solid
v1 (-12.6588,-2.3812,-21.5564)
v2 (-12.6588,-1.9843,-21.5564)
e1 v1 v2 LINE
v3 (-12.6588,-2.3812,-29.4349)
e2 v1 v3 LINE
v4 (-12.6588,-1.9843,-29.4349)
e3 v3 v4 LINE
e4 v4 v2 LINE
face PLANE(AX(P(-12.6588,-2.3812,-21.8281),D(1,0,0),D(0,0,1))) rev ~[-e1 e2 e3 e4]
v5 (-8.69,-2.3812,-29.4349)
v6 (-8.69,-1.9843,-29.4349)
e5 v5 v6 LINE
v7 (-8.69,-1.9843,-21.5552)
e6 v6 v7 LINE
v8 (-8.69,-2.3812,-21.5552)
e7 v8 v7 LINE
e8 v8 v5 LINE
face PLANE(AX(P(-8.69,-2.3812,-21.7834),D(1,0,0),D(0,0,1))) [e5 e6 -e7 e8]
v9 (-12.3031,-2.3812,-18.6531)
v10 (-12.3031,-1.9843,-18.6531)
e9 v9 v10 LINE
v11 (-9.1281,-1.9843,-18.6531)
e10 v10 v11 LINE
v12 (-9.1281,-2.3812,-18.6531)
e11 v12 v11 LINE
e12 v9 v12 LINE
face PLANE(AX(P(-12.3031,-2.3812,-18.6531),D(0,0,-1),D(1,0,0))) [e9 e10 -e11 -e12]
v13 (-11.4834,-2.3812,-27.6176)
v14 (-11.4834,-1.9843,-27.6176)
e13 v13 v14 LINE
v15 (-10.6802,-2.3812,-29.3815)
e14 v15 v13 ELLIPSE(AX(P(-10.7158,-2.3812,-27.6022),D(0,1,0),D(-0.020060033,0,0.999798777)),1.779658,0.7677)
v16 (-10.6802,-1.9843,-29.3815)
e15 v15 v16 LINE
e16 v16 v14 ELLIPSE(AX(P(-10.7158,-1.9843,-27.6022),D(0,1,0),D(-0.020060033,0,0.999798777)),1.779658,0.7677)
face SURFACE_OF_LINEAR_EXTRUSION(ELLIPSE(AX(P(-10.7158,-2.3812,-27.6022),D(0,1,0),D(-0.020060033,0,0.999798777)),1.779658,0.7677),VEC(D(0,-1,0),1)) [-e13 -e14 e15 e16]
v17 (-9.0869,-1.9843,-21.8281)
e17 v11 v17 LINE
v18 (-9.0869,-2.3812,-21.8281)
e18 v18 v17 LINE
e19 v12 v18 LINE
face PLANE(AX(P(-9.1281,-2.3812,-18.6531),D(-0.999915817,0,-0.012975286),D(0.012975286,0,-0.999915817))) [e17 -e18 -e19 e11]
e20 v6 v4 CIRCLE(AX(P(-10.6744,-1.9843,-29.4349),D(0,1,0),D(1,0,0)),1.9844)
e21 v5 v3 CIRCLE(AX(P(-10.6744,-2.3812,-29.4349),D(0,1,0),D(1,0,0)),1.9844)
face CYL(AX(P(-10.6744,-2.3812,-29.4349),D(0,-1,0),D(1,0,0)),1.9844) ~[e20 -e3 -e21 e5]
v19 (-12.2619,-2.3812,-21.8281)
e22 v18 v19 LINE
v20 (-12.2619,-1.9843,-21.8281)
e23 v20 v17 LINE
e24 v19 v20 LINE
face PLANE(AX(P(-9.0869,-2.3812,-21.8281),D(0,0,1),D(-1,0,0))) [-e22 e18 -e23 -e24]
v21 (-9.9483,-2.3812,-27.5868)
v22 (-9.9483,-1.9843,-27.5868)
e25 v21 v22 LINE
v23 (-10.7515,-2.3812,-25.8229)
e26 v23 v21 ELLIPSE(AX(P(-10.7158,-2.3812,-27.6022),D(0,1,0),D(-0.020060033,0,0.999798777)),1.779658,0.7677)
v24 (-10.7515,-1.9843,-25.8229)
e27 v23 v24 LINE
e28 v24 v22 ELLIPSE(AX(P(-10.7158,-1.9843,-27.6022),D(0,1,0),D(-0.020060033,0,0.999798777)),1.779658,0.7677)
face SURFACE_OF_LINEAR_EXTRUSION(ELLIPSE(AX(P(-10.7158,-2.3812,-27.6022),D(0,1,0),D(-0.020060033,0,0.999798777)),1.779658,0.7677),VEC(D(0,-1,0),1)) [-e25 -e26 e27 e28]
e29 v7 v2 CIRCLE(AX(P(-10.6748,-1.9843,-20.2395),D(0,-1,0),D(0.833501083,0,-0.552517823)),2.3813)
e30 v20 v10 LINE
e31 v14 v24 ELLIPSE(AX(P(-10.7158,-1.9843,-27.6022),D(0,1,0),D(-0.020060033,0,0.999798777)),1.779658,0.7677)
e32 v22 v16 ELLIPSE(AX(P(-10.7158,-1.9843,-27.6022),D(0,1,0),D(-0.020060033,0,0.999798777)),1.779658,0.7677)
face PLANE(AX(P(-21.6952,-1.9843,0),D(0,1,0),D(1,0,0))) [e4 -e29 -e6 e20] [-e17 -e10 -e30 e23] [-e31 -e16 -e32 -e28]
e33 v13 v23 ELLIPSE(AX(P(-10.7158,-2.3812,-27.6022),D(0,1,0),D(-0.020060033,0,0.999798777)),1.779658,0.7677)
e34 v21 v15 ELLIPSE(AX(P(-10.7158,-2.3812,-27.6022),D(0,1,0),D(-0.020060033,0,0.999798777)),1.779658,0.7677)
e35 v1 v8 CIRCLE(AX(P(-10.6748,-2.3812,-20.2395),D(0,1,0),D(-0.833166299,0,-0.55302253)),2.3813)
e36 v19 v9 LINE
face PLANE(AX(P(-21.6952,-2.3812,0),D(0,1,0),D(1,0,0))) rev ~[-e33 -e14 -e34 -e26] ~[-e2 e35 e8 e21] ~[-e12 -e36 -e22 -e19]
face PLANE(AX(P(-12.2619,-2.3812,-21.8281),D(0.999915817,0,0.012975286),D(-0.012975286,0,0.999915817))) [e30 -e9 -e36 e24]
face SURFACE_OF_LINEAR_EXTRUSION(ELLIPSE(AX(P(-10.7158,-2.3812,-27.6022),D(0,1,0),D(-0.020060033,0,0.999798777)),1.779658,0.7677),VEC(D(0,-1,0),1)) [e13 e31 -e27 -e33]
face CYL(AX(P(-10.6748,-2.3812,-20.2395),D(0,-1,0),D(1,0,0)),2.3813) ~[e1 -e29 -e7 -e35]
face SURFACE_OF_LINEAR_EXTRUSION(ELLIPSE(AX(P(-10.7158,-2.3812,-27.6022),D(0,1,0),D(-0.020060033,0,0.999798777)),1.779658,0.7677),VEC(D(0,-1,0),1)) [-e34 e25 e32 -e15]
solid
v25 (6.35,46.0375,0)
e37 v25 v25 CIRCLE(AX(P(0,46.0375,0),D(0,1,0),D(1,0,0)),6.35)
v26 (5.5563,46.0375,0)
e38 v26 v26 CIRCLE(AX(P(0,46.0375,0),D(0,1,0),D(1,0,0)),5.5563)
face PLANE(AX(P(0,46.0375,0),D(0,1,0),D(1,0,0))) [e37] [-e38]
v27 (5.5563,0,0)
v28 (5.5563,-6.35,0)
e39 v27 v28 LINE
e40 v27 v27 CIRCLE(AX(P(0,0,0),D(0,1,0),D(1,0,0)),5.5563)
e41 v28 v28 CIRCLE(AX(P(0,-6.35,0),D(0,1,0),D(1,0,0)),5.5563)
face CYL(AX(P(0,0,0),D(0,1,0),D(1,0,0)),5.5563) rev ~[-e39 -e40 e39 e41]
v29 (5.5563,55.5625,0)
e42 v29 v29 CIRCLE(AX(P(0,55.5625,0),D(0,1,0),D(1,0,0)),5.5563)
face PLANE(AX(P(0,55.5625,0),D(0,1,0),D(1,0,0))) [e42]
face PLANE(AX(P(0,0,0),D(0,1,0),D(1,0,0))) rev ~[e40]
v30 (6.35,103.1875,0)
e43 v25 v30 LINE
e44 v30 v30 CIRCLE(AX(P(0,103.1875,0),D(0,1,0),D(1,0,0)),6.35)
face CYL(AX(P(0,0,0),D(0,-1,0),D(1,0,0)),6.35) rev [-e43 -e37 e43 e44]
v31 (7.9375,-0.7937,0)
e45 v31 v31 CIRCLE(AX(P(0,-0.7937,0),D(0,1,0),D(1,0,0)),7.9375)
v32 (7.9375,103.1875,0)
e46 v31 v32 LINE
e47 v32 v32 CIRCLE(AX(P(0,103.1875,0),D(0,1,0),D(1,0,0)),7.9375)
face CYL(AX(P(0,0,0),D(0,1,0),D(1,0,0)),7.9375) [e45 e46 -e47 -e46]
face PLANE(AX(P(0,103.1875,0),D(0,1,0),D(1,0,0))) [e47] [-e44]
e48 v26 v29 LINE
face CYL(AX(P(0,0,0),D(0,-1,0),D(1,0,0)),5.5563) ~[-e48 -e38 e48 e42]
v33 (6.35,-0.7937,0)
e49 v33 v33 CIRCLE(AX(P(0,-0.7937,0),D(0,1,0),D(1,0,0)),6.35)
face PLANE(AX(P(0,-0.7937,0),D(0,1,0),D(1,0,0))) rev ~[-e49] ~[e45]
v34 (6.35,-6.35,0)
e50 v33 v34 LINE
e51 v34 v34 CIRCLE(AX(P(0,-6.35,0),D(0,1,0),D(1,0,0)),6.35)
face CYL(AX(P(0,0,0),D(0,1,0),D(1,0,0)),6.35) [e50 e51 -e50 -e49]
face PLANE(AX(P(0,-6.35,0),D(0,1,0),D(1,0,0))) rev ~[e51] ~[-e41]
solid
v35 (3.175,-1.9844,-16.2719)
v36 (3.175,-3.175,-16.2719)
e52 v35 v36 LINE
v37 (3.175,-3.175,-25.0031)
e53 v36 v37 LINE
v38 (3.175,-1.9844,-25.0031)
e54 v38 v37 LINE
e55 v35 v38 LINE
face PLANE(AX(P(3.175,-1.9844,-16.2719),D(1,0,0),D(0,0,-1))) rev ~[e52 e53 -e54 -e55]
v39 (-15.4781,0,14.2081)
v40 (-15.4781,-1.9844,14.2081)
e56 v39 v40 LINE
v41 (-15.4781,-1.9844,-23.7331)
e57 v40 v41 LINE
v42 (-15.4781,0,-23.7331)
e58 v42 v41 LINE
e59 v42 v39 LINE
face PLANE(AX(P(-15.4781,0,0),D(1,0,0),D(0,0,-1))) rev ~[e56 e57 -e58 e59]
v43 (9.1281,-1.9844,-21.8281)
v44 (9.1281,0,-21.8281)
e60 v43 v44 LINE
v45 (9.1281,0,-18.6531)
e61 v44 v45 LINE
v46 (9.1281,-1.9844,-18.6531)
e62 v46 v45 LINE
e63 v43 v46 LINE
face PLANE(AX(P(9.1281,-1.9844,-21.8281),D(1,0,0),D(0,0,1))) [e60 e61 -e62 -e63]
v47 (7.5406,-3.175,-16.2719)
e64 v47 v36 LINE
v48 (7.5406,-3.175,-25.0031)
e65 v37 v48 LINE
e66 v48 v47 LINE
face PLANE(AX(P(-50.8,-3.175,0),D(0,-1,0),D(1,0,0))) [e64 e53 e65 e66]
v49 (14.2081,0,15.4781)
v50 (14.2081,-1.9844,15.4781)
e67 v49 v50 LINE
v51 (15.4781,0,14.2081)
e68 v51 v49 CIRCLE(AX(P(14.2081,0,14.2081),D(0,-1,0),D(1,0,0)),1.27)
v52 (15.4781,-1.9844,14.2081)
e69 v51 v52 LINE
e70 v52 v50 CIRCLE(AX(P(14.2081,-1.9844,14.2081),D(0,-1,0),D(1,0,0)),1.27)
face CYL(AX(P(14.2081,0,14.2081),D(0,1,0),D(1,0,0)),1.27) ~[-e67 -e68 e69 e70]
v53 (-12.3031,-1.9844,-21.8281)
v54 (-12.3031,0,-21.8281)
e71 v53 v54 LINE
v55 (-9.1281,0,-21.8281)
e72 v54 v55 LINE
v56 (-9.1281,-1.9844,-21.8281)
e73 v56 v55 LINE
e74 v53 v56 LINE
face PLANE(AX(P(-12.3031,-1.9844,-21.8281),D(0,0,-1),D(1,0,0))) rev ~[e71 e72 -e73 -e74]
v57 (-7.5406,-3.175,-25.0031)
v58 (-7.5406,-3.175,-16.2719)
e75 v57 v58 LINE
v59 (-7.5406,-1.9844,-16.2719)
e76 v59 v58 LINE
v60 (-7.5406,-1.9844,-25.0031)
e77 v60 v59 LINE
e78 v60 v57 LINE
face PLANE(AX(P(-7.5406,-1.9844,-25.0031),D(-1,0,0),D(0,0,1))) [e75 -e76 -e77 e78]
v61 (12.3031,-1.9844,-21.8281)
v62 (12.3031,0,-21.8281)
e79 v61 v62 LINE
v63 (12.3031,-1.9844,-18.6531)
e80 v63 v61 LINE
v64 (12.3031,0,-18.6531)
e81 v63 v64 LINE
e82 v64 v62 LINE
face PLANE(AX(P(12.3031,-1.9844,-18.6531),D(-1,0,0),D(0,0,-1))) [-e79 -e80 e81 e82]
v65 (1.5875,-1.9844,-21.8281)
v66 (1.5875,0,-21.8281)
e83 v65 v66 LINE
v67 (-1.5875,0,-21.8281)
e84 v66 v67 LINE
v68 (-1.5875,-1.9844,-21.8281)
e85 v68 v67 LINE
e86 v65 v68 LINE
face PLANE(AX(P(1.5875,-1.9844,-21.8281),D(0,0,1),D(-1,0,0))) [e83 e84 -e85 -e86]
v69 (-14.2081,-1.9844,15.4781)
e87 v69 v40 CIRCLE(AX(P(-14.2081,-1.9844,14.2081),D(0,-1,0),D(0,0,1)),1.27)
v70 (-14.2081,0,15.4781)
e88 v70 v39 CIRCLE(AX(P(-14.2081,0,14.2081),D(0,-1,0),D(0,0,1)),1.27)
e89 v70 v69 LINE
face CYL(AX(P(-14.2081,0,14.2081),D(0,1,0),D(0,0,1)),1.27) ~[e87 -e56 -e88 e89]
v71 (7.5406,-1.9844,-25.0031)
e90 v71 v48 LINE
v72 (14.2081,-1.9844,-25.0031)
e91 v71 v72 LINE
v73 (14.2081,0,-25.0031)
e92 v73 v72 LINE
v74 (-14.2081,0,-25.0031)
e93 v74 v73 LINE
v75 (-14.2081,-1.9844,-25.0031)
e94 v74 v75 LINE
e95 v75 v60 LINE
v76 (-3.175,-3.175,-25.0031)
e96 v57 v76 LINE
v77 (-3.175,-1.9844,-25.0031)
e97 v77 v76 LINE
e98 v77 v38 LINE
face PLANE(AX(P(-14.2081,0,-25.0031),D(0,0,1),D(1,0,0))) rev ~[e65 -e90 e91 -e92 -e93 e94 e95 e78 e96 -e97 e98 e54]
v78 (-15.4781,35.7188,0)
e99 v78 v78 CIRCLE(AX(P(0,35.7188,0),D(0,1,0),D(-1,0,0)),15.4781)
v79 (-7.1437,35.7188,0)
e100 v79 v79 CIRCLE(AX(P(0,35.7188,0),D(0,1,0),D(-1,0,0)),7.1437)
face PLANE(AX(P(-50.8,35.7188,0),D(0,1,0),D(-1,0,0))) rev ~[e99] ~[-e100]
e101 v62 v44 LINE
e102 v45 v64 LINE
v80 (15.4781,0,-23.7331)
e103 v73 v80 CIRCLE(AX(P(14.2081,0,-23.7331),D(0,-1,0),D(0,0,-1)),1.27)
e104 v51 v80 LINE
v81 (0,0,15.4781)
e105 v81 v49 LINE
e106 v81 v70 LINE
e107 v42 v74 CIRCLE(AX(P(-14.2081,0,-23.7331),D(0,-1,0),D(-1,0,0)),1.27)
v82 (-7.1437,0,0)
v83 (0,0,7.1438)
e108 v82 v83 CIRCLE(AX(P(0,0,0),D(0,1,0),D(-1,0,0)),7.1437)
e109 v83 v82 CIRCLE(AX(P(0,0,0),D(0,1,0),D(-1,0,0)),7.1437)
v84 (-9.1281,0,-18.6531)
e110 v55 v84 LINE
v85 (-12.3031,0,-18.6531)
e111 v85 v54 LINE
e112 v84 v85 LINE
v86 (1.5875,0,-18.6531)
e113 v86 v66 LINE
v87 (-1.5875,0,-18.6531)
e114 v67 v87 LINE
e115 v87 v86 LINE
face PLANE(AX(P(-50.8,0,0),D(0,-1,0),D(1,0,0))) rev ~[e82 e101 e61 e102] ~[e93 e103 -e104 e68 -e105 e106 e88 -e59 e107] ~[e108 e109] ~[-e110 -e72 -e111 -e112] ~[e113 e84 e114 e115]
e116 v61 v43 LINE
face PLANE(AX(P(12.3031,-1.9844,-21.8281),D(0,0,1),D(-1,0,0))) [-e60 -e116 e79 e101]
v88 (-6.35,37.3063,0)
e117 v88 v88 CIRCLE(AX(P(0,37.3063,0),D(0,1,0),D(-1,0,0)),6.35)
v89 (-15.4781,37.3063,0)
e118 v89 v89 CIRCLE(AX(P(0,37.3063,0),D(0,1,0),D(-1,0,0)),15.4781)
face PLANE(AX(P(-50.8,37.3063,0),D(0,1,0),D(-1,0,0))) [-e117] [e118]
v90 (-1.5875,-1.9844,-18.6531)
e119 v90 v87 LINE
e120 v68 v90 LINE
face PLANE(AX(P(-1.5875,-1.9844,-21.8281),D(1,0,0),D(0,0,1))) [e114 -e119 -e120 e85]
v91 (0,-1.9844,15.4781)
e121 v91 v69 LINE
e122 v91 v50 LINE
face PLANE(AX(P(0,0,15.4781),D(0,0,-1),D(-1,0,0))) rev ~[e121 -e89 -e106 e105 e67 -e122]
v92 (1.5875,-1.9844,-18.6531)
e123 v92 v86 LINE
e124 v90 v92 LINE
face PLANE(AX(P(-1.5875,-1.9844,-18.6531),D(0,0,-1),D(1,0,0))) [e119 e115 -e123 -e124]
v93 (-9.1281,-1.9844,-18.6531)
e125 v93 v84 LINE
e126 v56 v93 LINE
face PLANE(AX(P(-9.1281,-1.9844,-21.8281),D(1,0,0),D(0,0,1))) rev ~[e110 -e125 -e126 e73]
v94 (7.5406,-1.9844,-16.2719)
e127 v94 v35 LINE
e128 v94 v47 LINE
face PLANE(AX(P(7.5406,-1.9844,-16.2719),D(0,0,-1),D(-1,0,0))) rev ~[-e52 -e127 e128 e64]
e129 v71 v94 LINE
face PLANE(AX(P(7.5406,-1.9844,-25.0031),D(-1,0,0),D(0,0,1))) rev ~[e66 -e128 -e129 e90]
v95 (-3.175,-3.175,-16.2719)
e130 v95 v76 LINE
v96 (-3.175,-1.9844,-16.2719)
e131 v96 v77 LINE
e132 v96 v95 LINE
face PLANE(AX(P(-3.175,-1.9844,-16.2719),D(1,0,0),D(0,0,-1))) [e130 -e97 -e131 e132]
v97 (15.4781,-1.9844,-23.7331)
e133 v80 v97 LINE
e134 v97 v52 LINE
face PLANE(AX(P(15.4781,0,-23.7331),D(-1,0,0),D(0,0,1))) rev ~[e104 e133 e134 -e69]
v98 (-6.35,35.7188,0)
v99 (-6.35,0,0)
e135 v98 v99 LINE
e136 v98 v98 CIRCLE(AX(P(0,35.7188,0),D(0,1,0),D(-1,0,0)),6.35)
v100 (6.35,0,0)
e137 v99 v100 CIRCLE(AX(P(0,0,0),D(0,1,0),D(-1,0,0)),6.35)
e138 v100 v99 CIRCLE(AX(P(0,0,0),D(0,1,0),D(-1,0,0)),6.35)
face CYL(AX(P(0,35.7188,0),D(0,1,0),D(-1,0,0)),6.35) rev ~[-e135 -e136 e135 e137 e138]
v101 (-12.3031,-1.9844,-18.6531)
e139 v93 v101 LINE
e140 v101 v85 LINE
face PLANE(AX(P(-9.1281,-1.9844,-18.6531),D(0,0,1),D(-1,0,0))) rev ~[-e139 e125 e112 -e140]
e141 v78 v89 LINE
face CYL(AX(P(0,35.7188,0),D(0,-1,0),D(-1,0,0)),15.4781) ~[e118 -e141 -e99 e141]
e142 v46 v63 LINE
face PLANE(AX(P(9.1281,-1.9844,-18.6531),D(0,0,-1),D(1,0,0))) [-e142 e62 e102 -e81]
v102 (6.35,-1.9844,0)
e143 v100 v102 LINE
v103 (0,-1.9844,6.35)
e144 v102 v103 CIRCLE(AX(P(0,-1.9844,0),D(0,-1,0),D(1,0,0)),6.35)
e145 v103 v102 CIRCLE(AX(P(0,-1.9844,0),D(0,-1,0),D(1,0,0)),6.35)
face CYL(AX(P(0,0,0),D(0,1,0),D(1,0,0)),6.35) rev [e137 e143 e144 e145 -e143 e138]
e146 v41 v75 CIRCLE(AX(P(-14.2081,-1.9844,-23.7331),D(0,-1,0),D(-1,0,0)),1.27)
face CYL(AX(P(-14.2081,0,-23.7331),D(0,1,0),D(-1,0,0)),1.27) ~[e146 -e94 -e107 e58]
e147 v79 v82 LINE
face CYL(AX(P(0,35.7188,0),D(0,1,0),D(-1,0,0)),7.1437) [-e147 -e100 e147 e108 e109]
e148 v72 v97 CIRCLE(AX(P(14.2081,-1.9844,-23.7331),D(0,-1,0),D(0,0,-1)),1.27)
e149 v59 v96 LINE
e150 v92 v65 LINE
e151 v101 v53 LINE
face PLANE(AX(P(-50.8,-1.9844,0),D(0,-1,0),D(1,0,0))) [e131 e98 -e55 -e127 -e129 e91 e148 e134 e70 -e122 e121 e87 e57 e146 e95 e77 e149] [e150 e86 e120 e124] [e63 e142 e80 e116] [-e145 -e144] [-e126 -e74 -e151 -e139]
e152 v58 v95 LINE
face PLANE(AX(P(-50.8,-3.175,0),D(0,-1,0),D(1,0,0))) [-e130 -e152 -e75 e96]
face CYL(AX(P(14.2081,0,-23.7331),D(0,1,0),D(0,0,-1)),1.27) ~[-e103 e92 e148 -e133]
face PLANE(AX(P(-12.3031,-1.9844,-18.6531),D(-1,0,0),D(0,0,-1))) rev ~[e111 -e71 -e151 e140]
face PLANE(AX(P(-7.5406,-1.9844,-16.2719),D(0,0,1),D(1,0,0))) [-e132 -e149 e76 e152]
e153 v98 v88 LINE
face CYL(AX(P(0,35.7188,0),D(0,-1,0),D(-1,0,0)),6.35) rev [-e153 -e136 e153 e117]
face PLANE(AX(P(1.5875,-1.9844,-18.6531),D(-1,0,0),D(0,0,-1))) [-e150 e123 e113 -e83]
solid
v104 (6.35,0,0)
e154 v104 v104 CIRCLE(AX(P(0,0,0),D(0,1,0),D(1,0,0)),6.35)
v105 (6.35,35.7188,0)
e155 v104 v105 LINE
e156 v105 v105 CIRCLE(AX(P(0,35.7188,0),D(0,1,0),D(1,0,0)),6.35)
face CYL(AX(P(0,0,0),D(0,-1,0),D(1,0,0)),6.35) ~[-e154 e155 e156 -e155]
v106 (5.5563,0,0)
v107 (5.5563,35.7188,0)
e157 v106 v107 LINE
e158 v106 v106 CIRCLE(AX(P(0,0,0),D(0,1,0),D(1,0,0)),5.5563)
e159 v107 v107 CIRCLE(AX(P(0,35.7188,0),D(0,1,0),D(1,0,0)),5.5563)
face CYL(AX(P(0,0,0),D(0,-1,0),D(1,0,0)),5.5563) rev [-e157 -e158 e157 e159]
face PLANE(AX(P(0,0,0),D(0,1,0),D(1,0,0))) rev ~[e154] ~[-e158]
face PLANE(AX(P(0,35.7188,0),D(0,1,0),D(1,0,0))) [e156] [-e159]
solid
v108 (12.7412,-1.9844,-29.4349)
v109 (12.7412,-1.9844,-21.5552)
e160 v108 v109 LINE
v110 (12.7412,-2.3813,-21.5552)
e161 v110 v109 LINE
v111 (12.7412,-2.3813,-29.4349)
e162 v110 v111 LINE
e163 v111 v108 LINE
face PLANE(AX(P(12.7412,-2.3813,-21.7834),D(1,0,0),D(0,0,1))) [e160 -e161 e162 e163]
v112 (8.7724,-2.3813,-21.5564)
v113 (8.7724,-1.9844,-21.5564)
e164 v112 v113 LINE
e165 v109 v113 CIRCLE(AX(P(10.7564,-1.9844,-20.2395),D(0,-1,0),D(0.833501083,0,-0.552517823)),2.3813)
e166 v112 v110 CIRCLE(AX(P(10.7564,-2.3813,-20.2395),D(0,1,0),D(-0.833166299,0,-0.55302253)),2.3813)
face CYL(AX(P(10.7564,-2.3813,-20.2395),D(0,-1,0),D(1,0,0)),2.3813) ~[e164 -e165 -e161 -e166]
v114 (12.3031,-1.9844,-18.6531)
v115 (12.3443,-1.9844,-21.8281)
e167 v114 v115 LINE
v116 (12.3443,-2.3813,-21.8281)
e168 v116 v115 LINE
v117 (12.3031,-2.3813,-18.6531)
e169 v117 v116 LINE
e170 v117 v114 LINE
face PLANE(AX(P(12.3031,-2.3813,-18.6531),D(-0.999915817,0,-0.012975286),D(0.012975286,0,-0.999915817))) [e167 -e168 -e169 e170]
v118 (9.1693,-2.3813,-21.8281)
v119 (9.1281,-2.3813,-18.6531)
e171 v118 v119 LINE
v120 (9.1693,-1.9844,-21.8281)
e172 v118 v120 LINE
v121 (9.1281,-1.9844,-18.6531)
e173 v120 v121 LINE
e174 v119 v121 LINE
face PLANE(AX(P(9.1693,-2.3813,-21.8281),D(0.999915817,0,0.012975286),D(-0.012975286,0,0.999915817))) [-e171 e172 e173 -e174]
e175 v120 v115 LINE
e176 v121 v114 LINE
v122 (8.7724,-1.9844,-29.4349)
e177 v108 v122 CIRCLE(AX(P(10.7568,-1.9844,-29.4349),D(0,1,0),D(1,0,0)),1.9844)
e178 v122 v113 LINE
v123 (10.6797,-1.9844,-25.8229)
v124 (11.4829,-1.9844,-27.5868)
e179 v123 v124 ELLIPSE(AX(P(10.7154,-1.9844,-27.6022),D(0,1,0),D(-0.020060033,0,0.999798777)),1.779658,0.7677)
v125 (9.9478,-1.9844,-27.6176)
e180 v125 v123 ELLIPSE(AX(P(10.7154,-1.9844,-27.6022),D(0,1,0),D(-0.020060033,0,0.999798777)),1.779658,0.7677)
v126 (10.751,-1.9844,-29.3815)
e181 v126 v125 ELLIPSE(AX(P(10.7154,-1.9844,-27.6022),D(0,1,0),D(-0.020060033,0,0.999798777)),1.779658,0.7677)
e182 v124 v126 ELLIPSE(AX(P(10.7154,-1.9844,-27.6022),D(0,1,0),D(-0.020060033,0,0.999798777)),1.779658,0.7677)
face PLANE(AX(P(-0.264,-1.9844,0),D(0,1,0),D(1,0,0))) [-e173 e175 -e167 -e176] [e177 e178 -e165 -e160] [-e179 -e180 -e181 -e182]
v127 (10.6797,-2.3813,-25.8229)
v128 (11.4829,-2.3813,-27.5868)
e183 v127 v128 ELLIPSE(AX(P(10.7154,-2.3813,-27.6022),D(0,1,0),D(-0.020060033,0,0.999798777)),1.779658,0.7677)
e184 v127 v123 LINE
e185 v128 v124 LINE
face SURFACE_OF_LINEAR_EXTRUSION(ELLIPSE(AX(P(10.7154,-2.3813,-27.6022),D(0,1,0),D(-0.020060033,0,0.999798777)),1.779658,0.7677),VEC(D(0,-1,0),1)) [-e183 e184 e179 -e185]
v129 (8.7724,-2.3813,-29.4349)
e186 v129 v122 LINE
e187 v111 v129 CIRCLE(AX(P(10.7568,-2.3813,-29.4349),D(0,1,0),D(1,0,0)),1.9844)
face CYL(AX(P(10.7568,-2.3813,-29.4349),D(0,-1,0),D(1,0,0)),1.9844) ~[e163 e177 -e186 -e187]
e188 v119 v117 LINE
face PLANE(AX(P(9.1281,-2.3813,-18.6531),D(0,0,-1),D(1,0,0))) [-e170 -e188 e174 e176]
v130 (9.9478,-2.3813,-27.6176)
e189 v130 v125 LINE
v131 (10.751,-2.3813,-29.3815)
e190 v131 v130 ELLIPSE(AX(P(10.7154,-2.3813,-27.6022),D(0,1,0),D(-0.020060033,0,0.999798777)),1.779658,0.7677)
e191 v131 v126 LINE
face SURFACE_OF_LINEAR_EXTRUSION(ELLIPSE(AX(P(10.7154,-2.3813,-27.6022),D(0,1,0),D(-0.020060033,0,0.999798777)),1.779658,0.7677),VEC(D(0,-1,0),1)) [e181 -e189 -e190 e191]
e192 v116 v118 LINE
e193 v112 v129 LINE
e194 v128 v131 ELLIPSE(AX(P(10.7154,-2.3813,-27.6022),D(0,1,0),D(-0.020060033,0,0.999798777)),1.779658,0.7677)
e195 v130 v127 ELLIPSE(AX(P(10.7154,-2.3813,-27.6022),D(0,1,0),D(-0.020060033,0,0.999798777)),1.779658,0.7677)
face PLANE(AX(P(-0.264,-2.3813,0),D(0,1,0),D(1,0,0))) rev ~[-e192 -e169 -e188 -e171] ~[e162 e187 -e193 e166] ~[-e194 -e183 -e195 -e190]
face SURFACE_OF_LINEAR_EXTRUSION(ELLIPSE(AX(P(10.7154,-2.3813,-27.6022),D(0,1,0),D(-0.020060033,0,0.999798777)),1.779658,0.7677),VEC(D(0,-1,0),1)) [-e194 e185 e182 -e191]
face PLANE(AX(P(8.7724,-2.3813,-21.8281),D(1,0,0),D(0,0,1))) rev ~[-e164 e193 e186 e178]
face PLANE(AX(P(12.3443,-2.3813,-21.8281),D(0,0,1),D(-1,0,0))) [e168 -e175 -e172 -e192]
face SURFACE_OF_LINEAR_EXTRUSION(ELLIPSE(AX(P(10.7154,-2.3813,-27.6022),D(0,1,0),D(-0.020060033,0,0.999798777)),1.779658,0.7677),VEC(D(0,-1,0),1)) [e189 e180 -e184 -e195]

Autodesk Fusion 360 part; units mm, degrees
sketch "Sketch1" plane through (0, 0, 0) normal (0, 1, 0) x (1, 0, 0) in component "Winding"
  circle A0 centre (0, 0) radius 11.9062
  circle A1 centre (0, 0) radius 6.35
  circle A2 centre (0, 0) radius 7.1437
  dimension "d1" = 23.8125
  dimension "d2" = 12.7
  dimension "d3" = 0.7937
extrude "Extrude1" add sketch "Sketch1" along normal blind 35.7188 contours A0 makes body 1 in component "Winding"
sketch "Sketch1 (2)" plane through (0, 35.7188, 0) normal (0, 1, 0) x (-1, 0, 0) in component "Coil Body"
  circle A0 centre (0, 0) radius 7.1437
  circle A1 centre (0, 0) radius 11.9062
  circle A2 centre (-50.8, 0) radius 15.4781
  circle A3 centre (-50.8, 0) radius 6.35
  circle A4 centre (-50.8, 0) radius 7.1437
  point P0 (-50.8, 0)
  dimension "d6" = 30.9563
  dimension "d7" = 12.7
  dimension "d8" = 0.7937
extrude "Extrude1'" add sketch "Sketch1 (2)" against normal blind 35.7188 separate body contours A4 makes body 2 in component "Coil Body"
extrude "Extrude2" add sketch "Sketch1 (2)" along normal blind 1.5875 contours A2 | A4 bodies 2 in component "Coil Body"
sketch "Sketch2" plane through (0, 0, 0) normal (0, -1, 0) x (1, 0, 0) in component "Coil Body"
  circle A0 centre (50.8, 0) radius 6.35
  circle A1 centre (50.8, 0) radius 7.1438
  line L0 (50.8, 0) -> (50.8, 6.35)
  circle A2 centre (50.8, 0) radius 15.4781
  line L1 (50.8, 6.35) -> (50.8, 15.4781)
  line L2 (50.8, 15.4781) -> (65.0081, 15.4781)
  line L3 (50.8, 15.4781) -> (36.5919, 15.4781)
  line L4 (35.3219, 14.2081) -> (35.3219, -23.7331)
  line L5 (36.5919, -25.0031) -> (65.0081, -25.0031)
  line L6 (66.2781, -23.7331) -> (66.2781, 14.2081)
  arc A3 (35.3219, -23.7331) -> (36.5919, -25.0031) centre (36.5919, -23.7331) ccw
  arc A4 (65.0081, -25.0031) -> (66.2781, -23.7331) centre (65.0081, -23.7331) ccw
  arc A5 (66.2781, 14.2081) -> (65.0081, 15.4781) centre (65.0081, 14.2081) ccw
  arc A6 (36.5919, 15.4781) -> (35.3219, 14.2081) centre (36.5919, 14.2081) ccw
  point P0 (66.2781, 15.4781)
  point P1 (35.3219, 15.4781)
  point P2 (35.3219, -25.0031)
  point P3 (66.2781, -25.0031)
  dimension "d13" = 15.4781
  dimension "d14" = 15.4781
  dimension "d15" = 40.4812
  dimension "d16" = 30.9563
  dimension "d19" = 1.27
  dimension "d20" = 1.27
  dimension "d21" = 1.27
  dimension "d22" = 1.27
extrude "Extrude3" add sketch "Sketch2" along normal blind 1.9844 contours A1 | A2 | A2 L3 L4 A6 | A2 L2 L6 A5 | A2 L4 L5 L6 A3 A4 bodies 2 in component "Coil Body"
sketch "Sketch3" plane through (0, -1.9844, 0) normal (0, -1, 0) x (1, 0, 0) in component "Coil Body"
  circle A0 centre (50.8, 0) radius 6.35
  line L0 (65.0081, 15.4781) -> (36.5919, 15.4781)
  arc A1 (36.5919, 15.4781) -> (35.3219, 14.2081) centre (36.5919, 14.2081) ccw
  line L1 (35.3219, 14.2081) -> (35.3219, -23.7331)
  arc A2 (35.3219, -23.7331) -> (36.5919, -25.0031) centre (36.5919, -23.7331) ccw
  line L2 (36.5919, -25.0031) -> (65.0081, -25.0031)
  arc A3 (65.0081, -25.0031) -> (66.2781, -23.7331) centre (65.0081, -23.7331) ccw
  line L3 (66.2781, -23.7331) -> (66.2781, 14.2081)
  arc A4 (66.2781, 14.2081) -> (65.0081, 15.4781) centre (65.0081, 14.2081) ccw
  line L4 (35.3219, -25.0031) -> (38.4969, -25.0031)
  line L5 (38.4969, -25.0031) -> (38.4969, -21.8281)
  line L6 (38.4969, -21.8281) -> (41.6719, -21.8281)
  line L7 (41.6719, -21.8281) -> (41.6719, -18.6531)
  line L8 (41.6719, -18.6531) -> (38.4969, -18.6531)
  line L9 (38.4969, -18.6531) -> (38.4969, -21.8281)
  line L10 (66.2781, -25.0031) -> (63.1031, -25.0031)
  line L11 (63.1031, -25.0031) -> (63.1031, -21.8281)
  line L12 (63.1031, -21.8281) -> (59.9281, -21.8281)
  line L13 (59.9281, -21.8281) -> (59.9281, -18.6531)
  line L14 (59.9281, -18.6531) -> (63.1031, -18.6531)
  line L15 (63.1031, -18.6531) -> (63.1031, -21.8281)
  line L16 (50.8, -25.0031) -> (52.3875, -25.0031)
  line L17 (52.3875, -25.0031) -> (52.3875, -21.8281)
  line L18 (52.3875, -21.8281) -> (49.2125, -21.8281)
  line L19 (49.2125, -21.8281) -> (49.2125, -18.6531)
  line L20 (49.2125, -18.6531) -> (52.3875, -18.6531)
  line L21 (52.3875, -18.6531) -> (52.3875, -21.8281)
  dimension "d23" = 3.175
  dimension "d24" = 3.175
  dimension "d25" = 3.175
  dimension "d26" = 3.175
  dimension "d27" = 3.175
  dimension "d28" = 3.175
  dimension "d29" = 3.175
  dimension "d30" = 3.175
  dimension "d31" = 1.5875
  dimension "d32" = 3.175
  dimension "d33" = 3.175
  dimension "d34" = 3.175
extrude "Extrude4" cut sketch "Sketch3" against normal blind 1.9844 contours L6 L7 L8 L9 | L18 L19 L20 L21 | L12 L13 L14 L15 bodies 2 in component "Coil Body"
sketch "Sketch4" plane through (0, -1.9844, 0) normal (0, -1, 0) x (1, 0, 0) in component "Coil Body"
  line L0 (49.2125, -21.8281) -> (49.2125, -18.6531)
  line L1 (49.2125, -18.6531) -> (52.3875, -18.6531)
  line L2 (52.3875, -18.6531) -> (52.3875, -21.8281)
  line L3 (52.3875, -21.8281) -> (49.2125, -21.8281)
  line L4 (41.6719, -21.8281) -> (38.4969, -21.8281)
  line L5 (38.4969, -21.8281) -> (38.4969, -18.6531)
  line L6 (38.4969, -18.6531) -> (41.6719, -18.6531)
  line L7 (41.6719, -18.6531) -> (41.6719, -21.8281)
  line L8 (59.9281, -21.8281) -> (59.9281, -18.6531)
  line L9 (59.9281, -18.6531) -> (63.1031, -18.6531)
  line L10 (63.1031, -18.6531) -> (63.1031, -21.8281)
  line L11 (63.1031, -21.8281) -> (59.9281, -21.8281)
  circle A0 centre (50.8, 0) radius 6.35
  line L12 (65.0081, 15.4781) -> (36.5919, 15.4781)
  arc A1 (36.5919, 15.4781) -> (35.3219, 14.2081) centre (36.5919, 14.2081) ccw
  line L13 (35.3219, 14.2081) -> (35.3219, -23.7331)
  arc A2 (35.3219, -23.7331) -> (36.5919, -25.0031) centre (36.5919, -23.7331) ccw
  line L14 (36.5919, -25.0031) -> (65.0081, -25.0031)
  arc A3 (65.0081, -25.0031) -> (66.2781, -23.7331) centre (65.0081, -23.7331) ccw
  line L15 (66.2781, -23.7331) -> (66.2781, 14.2081)
  arc A4 (66.2781, 14.2081) -> (65.0081, 15.4781) centre (65.0081, 14.2081) ccw
  line L16 (50.8, -25.0031) -> (53.975, -25.0031)
  line L17 (50.8, -25.0031) -> (47.625, -25.0031)
  line L18 (47.625, -25.0031) -> (43.2594, -25.0031)
  line L19 (43.2594, -25.0031) -> (43.2594, -16.2719)
  line L20 (43.2594, -16.2719) -> (47.625, -16.2719)
  line L21 (47.625, -16.2719) -> (47.625, -25.0031)
  line L22 (53.975, -25.0031) -> (58.3406, -25.0031)
  line L23 (58.3406, -25.0031) -> (58.3406, -16.2719)
  line L24 (58.3406, -16.2719) -> (53.975, -16.2719)
  line L25 (53.975, -16.2719) -> (53.975, -25.0031)
  dimension "d37" = 3.175
  dimension "d40" = 3.175
  dimension "d41" = 8.7313
  dimension "d42" = 4.3656
  dimension "d43" = 8.7313
  dimension "d44" = 4.3656
extrude "Extrude5" add sketch "Sketch4" along normal blind 1.1906 contours L14 L22 L23 L24 L25 | L14 L18 L19 L20 L21 bodies 2 in component "Coil Body"
sketch "Sketch1 (3)" plane through (0, 0, 0) normal (0, 1, 0) x (1, 0, 0) in component "Solder Tab"
  line L0 (12.6083, 21.8281) -> (9.4333, 21.8281)
  line L1 (12.5671, 18.6531) -> (12.6083, 21.8281)
  line L2 (9.3921, 18.6531) -> (12.5671, 18.6531)
  line L3 (9.4333, 21.8281) -> (9.3921, 18.6531)
  circle A0 centre (11.0204, 20.2395) radius 2.3813
  line L4 (11.0208, 21.8281) -> (9.0364, 21.8281)
  line L5 (9.0364, 21.8281) -> (13.0052, 21.8281)
  line L6 (9.0364, 21.8281) -> (9.0364, 21.5564)
  line L7 (13.0052, 21.8281) -> (13.0052, 21.7834)
  line L8 (13.0052, 21.7834) -> (13.0052, 21.5552)
  line L9 (9.0364, 29.4349) -> (9.0364, 21.8281)
  line L10 (13.0052, 21.8281) -> (13.0052, 29.4349)
  arc A1 (13.0052, 29.4349) -> (9.0364, 29.4349) centre (11.0208, 29.4349) ccw
  ellipse E0 centre (10.9794, 27.6022) end of major axis (10.9437, 25.8229) minor radius 0.7677
  line L11 (11.015, 29.3815) -> (10.9437, 25.8229)
  line L12 (10.2118, 27.6176) -> (11.7469, 27.5868)
  line L13 (9.0364, 29.4349) -> (13.0052, 29.4349)
  dimension "d47" = 4.7625
  dimension "d48" = 1.9844
  dimension "d49" = 3.9688
  dimension "d52" = 3.9688
extrude "Extrude1''" add sketch "Sketch1 (3)" along normal blind 0.3969 separate body contours L1 L2 L3 A0 L4 L5 | L0 A0 L4 L5 | A0 L5 L7 L8 | A0 L4 L5 L9 L10 L13 | A0 L4 L5 L6 | A1 L13 makes body 3 in component "Solder Tab"
component "Winding" placed x (1, 0, 0) y (0, 1, 0) z (0, 0, 1) at (0, 0, 0)
component "Coil Body" placed x (1, 0, 0) y (0, 1, 0) z (0, 0, 1) at (-50.8, 0, 0)
component "Solder Tab" placed x (1, 0, 0) y (0, 1, 0) z (0, 0, 1) at (-0.264, -2.3813, 0)
component "Solder Tab" placed x (1, 0, 0) y (0, 1, 0) z (0, 0, 1) at (-21.6952, -2.3812, 0)
equation "d1 = ( 15 / 16 ) * 1 in"
equation "d2 = ( 1 / 2 ) * 1 in"
equation "d3 = ( 1 / 32 ) * 1 in"
equation "d4 = 1 13/32\""
equation "d6 = 1 7/32\""
equation "d7 = ( 1 / 2 ) * 1 in"
equation "d8 = ( 1 / 32 ) * 1 in"
equation "d9 = -1 13/32\""
equation "d11 = ( 1 / 16 ) * 1 in"
equation "d13 = ( 39 / 64 ) * 1 in"
equation "d14 = ( 39 / 64 ) * 1 in"
equation "d15 = 1 19/32\""
equation "d16 = 1 7/32\""
equation "d17 = ( 5 / 64 ) * 1 in"
equation "d23 = ( 1 / 8 ) * 1 in"
equation "d24 = ( 1 / 8 ) * 1 in"
equation "d25 = ( 1 / 8 ) * 1 in"
equation "d26 = ( 1 / 8 ) * 1 in"
equation "d27 = ( 1 / 8 ) * 1 in"
equation "d28 = ( 1 / 8 ) * 1 in"
equation "d29 = ( 1 / 8 ) * 1 in"
equation "d30 = ( 1 / 8 ) * 1 in"
equation "d31 = ( 1 / 16 ) * 1 in"
equation "d32 = ( 1 / 8 ) * 1 in"
equation "d33 = ( 1 / 8 ) * 1 in"
equation "d34 = ( 1 / 8 ) * 1 in"
equation "d35 = ( -5 / 64 ) * 1 in"
equation "d37 = ( 1 / 8 ) * 1 in"
equation "d40 = ( 1 / 8 ) * 1 in"
equation "d41 = ( 11 / 32 ) * 1 in"
equation "d42 = ( 11 / 64 ) * 1 in"
equation "d43 = ( 11 / 32 ) * 1 in"
equation "d44 = ( 11 / 64 ) * 1 in"
equation "d45 = ( 3 / 64 ) * 1 in"
equation "d47 = ( 3 / 16 ) * 1 in"
equation "d48 = ( 5 / 64 ) * 1 in"
equation "d49 = ( 5 / 32 ) * 1 in"
equation "d52 = ( 5 / 32 ) * 1 in"
equation "d53 = ( 1 / 64 ) * 1 in"

Autodesk Fusion 360 part; units mm, degrees
sketch "Sketch1" plane through (0, 0, 0) normal (0, 1, 0) x (1, 0, 0)
  circle A0 centre (0, 0) radius 11.1125
  circle A1 centre (0, 0) radius 5.5562
  circle A2 centre (0, 0) radius 3.9688
  dimension "d1" = 22.225
  dimension "d2" = 11.1125
  dimension "d3" = 7.9375
extrude "Extrude1" add sketch "Sketch1" along normal blind 103.1875 contours A2
extrude "Extrude2" add sketch "Sketch1" along normal blind 55.5625 contours A1
extrude "Extrude3" add sketch "Sketch1" along normal blind 6.35 contours A0
equation "d1 = ( 7 / 8 ) * 1 in"
equation "d2 = ( 7 / 16 ) * 1 in"
equation "d3 = ( 5 / 16 ) * 1 in"
equation "d4 = 4 1/16\""
equation "d6 = 2 3/16\""
equation "d8 = ( 1 / 4 ) * 1 in"

Autodesk Fusion 360 part; units mm, degrees
sketch "Sketch1" plane through (0, 0, 0) normal (0, 1, 0) x (1, 0, 0)
  circle A0 centre (0, 0) radius 6.35
  circle A1 centre (0, 0) radius 5.5563
  circle A2 centre (0, 0) radius 7.9375
  dimension "d1" = 12.7
  dimension "d2" = 0.7937
  dimension "d3" = 15.875
extrude "Extrude1" add sketch "Sketch1" along normal blind 46.0375 contours A0
extrude "Extrude2" add sketch "Sketch1" against normal blind 6.35 contours A0
extrude "Extrude3" add sketch "Sketch1" against normal blind 0.7937 contours A2
equation "d1 = ( 1 / 2 ) * 1 in"
equation "d2 = ( 1 / 32 ) * 1 in"
equation "d3 = ( 5 / 8 ) * 1 in"
equation "d4 = 1 13/16\""
equation "d6 = ( -1 / 4 ) * 1 in"
equation "d8 = ( -1 / 32 ) * 1 in"
